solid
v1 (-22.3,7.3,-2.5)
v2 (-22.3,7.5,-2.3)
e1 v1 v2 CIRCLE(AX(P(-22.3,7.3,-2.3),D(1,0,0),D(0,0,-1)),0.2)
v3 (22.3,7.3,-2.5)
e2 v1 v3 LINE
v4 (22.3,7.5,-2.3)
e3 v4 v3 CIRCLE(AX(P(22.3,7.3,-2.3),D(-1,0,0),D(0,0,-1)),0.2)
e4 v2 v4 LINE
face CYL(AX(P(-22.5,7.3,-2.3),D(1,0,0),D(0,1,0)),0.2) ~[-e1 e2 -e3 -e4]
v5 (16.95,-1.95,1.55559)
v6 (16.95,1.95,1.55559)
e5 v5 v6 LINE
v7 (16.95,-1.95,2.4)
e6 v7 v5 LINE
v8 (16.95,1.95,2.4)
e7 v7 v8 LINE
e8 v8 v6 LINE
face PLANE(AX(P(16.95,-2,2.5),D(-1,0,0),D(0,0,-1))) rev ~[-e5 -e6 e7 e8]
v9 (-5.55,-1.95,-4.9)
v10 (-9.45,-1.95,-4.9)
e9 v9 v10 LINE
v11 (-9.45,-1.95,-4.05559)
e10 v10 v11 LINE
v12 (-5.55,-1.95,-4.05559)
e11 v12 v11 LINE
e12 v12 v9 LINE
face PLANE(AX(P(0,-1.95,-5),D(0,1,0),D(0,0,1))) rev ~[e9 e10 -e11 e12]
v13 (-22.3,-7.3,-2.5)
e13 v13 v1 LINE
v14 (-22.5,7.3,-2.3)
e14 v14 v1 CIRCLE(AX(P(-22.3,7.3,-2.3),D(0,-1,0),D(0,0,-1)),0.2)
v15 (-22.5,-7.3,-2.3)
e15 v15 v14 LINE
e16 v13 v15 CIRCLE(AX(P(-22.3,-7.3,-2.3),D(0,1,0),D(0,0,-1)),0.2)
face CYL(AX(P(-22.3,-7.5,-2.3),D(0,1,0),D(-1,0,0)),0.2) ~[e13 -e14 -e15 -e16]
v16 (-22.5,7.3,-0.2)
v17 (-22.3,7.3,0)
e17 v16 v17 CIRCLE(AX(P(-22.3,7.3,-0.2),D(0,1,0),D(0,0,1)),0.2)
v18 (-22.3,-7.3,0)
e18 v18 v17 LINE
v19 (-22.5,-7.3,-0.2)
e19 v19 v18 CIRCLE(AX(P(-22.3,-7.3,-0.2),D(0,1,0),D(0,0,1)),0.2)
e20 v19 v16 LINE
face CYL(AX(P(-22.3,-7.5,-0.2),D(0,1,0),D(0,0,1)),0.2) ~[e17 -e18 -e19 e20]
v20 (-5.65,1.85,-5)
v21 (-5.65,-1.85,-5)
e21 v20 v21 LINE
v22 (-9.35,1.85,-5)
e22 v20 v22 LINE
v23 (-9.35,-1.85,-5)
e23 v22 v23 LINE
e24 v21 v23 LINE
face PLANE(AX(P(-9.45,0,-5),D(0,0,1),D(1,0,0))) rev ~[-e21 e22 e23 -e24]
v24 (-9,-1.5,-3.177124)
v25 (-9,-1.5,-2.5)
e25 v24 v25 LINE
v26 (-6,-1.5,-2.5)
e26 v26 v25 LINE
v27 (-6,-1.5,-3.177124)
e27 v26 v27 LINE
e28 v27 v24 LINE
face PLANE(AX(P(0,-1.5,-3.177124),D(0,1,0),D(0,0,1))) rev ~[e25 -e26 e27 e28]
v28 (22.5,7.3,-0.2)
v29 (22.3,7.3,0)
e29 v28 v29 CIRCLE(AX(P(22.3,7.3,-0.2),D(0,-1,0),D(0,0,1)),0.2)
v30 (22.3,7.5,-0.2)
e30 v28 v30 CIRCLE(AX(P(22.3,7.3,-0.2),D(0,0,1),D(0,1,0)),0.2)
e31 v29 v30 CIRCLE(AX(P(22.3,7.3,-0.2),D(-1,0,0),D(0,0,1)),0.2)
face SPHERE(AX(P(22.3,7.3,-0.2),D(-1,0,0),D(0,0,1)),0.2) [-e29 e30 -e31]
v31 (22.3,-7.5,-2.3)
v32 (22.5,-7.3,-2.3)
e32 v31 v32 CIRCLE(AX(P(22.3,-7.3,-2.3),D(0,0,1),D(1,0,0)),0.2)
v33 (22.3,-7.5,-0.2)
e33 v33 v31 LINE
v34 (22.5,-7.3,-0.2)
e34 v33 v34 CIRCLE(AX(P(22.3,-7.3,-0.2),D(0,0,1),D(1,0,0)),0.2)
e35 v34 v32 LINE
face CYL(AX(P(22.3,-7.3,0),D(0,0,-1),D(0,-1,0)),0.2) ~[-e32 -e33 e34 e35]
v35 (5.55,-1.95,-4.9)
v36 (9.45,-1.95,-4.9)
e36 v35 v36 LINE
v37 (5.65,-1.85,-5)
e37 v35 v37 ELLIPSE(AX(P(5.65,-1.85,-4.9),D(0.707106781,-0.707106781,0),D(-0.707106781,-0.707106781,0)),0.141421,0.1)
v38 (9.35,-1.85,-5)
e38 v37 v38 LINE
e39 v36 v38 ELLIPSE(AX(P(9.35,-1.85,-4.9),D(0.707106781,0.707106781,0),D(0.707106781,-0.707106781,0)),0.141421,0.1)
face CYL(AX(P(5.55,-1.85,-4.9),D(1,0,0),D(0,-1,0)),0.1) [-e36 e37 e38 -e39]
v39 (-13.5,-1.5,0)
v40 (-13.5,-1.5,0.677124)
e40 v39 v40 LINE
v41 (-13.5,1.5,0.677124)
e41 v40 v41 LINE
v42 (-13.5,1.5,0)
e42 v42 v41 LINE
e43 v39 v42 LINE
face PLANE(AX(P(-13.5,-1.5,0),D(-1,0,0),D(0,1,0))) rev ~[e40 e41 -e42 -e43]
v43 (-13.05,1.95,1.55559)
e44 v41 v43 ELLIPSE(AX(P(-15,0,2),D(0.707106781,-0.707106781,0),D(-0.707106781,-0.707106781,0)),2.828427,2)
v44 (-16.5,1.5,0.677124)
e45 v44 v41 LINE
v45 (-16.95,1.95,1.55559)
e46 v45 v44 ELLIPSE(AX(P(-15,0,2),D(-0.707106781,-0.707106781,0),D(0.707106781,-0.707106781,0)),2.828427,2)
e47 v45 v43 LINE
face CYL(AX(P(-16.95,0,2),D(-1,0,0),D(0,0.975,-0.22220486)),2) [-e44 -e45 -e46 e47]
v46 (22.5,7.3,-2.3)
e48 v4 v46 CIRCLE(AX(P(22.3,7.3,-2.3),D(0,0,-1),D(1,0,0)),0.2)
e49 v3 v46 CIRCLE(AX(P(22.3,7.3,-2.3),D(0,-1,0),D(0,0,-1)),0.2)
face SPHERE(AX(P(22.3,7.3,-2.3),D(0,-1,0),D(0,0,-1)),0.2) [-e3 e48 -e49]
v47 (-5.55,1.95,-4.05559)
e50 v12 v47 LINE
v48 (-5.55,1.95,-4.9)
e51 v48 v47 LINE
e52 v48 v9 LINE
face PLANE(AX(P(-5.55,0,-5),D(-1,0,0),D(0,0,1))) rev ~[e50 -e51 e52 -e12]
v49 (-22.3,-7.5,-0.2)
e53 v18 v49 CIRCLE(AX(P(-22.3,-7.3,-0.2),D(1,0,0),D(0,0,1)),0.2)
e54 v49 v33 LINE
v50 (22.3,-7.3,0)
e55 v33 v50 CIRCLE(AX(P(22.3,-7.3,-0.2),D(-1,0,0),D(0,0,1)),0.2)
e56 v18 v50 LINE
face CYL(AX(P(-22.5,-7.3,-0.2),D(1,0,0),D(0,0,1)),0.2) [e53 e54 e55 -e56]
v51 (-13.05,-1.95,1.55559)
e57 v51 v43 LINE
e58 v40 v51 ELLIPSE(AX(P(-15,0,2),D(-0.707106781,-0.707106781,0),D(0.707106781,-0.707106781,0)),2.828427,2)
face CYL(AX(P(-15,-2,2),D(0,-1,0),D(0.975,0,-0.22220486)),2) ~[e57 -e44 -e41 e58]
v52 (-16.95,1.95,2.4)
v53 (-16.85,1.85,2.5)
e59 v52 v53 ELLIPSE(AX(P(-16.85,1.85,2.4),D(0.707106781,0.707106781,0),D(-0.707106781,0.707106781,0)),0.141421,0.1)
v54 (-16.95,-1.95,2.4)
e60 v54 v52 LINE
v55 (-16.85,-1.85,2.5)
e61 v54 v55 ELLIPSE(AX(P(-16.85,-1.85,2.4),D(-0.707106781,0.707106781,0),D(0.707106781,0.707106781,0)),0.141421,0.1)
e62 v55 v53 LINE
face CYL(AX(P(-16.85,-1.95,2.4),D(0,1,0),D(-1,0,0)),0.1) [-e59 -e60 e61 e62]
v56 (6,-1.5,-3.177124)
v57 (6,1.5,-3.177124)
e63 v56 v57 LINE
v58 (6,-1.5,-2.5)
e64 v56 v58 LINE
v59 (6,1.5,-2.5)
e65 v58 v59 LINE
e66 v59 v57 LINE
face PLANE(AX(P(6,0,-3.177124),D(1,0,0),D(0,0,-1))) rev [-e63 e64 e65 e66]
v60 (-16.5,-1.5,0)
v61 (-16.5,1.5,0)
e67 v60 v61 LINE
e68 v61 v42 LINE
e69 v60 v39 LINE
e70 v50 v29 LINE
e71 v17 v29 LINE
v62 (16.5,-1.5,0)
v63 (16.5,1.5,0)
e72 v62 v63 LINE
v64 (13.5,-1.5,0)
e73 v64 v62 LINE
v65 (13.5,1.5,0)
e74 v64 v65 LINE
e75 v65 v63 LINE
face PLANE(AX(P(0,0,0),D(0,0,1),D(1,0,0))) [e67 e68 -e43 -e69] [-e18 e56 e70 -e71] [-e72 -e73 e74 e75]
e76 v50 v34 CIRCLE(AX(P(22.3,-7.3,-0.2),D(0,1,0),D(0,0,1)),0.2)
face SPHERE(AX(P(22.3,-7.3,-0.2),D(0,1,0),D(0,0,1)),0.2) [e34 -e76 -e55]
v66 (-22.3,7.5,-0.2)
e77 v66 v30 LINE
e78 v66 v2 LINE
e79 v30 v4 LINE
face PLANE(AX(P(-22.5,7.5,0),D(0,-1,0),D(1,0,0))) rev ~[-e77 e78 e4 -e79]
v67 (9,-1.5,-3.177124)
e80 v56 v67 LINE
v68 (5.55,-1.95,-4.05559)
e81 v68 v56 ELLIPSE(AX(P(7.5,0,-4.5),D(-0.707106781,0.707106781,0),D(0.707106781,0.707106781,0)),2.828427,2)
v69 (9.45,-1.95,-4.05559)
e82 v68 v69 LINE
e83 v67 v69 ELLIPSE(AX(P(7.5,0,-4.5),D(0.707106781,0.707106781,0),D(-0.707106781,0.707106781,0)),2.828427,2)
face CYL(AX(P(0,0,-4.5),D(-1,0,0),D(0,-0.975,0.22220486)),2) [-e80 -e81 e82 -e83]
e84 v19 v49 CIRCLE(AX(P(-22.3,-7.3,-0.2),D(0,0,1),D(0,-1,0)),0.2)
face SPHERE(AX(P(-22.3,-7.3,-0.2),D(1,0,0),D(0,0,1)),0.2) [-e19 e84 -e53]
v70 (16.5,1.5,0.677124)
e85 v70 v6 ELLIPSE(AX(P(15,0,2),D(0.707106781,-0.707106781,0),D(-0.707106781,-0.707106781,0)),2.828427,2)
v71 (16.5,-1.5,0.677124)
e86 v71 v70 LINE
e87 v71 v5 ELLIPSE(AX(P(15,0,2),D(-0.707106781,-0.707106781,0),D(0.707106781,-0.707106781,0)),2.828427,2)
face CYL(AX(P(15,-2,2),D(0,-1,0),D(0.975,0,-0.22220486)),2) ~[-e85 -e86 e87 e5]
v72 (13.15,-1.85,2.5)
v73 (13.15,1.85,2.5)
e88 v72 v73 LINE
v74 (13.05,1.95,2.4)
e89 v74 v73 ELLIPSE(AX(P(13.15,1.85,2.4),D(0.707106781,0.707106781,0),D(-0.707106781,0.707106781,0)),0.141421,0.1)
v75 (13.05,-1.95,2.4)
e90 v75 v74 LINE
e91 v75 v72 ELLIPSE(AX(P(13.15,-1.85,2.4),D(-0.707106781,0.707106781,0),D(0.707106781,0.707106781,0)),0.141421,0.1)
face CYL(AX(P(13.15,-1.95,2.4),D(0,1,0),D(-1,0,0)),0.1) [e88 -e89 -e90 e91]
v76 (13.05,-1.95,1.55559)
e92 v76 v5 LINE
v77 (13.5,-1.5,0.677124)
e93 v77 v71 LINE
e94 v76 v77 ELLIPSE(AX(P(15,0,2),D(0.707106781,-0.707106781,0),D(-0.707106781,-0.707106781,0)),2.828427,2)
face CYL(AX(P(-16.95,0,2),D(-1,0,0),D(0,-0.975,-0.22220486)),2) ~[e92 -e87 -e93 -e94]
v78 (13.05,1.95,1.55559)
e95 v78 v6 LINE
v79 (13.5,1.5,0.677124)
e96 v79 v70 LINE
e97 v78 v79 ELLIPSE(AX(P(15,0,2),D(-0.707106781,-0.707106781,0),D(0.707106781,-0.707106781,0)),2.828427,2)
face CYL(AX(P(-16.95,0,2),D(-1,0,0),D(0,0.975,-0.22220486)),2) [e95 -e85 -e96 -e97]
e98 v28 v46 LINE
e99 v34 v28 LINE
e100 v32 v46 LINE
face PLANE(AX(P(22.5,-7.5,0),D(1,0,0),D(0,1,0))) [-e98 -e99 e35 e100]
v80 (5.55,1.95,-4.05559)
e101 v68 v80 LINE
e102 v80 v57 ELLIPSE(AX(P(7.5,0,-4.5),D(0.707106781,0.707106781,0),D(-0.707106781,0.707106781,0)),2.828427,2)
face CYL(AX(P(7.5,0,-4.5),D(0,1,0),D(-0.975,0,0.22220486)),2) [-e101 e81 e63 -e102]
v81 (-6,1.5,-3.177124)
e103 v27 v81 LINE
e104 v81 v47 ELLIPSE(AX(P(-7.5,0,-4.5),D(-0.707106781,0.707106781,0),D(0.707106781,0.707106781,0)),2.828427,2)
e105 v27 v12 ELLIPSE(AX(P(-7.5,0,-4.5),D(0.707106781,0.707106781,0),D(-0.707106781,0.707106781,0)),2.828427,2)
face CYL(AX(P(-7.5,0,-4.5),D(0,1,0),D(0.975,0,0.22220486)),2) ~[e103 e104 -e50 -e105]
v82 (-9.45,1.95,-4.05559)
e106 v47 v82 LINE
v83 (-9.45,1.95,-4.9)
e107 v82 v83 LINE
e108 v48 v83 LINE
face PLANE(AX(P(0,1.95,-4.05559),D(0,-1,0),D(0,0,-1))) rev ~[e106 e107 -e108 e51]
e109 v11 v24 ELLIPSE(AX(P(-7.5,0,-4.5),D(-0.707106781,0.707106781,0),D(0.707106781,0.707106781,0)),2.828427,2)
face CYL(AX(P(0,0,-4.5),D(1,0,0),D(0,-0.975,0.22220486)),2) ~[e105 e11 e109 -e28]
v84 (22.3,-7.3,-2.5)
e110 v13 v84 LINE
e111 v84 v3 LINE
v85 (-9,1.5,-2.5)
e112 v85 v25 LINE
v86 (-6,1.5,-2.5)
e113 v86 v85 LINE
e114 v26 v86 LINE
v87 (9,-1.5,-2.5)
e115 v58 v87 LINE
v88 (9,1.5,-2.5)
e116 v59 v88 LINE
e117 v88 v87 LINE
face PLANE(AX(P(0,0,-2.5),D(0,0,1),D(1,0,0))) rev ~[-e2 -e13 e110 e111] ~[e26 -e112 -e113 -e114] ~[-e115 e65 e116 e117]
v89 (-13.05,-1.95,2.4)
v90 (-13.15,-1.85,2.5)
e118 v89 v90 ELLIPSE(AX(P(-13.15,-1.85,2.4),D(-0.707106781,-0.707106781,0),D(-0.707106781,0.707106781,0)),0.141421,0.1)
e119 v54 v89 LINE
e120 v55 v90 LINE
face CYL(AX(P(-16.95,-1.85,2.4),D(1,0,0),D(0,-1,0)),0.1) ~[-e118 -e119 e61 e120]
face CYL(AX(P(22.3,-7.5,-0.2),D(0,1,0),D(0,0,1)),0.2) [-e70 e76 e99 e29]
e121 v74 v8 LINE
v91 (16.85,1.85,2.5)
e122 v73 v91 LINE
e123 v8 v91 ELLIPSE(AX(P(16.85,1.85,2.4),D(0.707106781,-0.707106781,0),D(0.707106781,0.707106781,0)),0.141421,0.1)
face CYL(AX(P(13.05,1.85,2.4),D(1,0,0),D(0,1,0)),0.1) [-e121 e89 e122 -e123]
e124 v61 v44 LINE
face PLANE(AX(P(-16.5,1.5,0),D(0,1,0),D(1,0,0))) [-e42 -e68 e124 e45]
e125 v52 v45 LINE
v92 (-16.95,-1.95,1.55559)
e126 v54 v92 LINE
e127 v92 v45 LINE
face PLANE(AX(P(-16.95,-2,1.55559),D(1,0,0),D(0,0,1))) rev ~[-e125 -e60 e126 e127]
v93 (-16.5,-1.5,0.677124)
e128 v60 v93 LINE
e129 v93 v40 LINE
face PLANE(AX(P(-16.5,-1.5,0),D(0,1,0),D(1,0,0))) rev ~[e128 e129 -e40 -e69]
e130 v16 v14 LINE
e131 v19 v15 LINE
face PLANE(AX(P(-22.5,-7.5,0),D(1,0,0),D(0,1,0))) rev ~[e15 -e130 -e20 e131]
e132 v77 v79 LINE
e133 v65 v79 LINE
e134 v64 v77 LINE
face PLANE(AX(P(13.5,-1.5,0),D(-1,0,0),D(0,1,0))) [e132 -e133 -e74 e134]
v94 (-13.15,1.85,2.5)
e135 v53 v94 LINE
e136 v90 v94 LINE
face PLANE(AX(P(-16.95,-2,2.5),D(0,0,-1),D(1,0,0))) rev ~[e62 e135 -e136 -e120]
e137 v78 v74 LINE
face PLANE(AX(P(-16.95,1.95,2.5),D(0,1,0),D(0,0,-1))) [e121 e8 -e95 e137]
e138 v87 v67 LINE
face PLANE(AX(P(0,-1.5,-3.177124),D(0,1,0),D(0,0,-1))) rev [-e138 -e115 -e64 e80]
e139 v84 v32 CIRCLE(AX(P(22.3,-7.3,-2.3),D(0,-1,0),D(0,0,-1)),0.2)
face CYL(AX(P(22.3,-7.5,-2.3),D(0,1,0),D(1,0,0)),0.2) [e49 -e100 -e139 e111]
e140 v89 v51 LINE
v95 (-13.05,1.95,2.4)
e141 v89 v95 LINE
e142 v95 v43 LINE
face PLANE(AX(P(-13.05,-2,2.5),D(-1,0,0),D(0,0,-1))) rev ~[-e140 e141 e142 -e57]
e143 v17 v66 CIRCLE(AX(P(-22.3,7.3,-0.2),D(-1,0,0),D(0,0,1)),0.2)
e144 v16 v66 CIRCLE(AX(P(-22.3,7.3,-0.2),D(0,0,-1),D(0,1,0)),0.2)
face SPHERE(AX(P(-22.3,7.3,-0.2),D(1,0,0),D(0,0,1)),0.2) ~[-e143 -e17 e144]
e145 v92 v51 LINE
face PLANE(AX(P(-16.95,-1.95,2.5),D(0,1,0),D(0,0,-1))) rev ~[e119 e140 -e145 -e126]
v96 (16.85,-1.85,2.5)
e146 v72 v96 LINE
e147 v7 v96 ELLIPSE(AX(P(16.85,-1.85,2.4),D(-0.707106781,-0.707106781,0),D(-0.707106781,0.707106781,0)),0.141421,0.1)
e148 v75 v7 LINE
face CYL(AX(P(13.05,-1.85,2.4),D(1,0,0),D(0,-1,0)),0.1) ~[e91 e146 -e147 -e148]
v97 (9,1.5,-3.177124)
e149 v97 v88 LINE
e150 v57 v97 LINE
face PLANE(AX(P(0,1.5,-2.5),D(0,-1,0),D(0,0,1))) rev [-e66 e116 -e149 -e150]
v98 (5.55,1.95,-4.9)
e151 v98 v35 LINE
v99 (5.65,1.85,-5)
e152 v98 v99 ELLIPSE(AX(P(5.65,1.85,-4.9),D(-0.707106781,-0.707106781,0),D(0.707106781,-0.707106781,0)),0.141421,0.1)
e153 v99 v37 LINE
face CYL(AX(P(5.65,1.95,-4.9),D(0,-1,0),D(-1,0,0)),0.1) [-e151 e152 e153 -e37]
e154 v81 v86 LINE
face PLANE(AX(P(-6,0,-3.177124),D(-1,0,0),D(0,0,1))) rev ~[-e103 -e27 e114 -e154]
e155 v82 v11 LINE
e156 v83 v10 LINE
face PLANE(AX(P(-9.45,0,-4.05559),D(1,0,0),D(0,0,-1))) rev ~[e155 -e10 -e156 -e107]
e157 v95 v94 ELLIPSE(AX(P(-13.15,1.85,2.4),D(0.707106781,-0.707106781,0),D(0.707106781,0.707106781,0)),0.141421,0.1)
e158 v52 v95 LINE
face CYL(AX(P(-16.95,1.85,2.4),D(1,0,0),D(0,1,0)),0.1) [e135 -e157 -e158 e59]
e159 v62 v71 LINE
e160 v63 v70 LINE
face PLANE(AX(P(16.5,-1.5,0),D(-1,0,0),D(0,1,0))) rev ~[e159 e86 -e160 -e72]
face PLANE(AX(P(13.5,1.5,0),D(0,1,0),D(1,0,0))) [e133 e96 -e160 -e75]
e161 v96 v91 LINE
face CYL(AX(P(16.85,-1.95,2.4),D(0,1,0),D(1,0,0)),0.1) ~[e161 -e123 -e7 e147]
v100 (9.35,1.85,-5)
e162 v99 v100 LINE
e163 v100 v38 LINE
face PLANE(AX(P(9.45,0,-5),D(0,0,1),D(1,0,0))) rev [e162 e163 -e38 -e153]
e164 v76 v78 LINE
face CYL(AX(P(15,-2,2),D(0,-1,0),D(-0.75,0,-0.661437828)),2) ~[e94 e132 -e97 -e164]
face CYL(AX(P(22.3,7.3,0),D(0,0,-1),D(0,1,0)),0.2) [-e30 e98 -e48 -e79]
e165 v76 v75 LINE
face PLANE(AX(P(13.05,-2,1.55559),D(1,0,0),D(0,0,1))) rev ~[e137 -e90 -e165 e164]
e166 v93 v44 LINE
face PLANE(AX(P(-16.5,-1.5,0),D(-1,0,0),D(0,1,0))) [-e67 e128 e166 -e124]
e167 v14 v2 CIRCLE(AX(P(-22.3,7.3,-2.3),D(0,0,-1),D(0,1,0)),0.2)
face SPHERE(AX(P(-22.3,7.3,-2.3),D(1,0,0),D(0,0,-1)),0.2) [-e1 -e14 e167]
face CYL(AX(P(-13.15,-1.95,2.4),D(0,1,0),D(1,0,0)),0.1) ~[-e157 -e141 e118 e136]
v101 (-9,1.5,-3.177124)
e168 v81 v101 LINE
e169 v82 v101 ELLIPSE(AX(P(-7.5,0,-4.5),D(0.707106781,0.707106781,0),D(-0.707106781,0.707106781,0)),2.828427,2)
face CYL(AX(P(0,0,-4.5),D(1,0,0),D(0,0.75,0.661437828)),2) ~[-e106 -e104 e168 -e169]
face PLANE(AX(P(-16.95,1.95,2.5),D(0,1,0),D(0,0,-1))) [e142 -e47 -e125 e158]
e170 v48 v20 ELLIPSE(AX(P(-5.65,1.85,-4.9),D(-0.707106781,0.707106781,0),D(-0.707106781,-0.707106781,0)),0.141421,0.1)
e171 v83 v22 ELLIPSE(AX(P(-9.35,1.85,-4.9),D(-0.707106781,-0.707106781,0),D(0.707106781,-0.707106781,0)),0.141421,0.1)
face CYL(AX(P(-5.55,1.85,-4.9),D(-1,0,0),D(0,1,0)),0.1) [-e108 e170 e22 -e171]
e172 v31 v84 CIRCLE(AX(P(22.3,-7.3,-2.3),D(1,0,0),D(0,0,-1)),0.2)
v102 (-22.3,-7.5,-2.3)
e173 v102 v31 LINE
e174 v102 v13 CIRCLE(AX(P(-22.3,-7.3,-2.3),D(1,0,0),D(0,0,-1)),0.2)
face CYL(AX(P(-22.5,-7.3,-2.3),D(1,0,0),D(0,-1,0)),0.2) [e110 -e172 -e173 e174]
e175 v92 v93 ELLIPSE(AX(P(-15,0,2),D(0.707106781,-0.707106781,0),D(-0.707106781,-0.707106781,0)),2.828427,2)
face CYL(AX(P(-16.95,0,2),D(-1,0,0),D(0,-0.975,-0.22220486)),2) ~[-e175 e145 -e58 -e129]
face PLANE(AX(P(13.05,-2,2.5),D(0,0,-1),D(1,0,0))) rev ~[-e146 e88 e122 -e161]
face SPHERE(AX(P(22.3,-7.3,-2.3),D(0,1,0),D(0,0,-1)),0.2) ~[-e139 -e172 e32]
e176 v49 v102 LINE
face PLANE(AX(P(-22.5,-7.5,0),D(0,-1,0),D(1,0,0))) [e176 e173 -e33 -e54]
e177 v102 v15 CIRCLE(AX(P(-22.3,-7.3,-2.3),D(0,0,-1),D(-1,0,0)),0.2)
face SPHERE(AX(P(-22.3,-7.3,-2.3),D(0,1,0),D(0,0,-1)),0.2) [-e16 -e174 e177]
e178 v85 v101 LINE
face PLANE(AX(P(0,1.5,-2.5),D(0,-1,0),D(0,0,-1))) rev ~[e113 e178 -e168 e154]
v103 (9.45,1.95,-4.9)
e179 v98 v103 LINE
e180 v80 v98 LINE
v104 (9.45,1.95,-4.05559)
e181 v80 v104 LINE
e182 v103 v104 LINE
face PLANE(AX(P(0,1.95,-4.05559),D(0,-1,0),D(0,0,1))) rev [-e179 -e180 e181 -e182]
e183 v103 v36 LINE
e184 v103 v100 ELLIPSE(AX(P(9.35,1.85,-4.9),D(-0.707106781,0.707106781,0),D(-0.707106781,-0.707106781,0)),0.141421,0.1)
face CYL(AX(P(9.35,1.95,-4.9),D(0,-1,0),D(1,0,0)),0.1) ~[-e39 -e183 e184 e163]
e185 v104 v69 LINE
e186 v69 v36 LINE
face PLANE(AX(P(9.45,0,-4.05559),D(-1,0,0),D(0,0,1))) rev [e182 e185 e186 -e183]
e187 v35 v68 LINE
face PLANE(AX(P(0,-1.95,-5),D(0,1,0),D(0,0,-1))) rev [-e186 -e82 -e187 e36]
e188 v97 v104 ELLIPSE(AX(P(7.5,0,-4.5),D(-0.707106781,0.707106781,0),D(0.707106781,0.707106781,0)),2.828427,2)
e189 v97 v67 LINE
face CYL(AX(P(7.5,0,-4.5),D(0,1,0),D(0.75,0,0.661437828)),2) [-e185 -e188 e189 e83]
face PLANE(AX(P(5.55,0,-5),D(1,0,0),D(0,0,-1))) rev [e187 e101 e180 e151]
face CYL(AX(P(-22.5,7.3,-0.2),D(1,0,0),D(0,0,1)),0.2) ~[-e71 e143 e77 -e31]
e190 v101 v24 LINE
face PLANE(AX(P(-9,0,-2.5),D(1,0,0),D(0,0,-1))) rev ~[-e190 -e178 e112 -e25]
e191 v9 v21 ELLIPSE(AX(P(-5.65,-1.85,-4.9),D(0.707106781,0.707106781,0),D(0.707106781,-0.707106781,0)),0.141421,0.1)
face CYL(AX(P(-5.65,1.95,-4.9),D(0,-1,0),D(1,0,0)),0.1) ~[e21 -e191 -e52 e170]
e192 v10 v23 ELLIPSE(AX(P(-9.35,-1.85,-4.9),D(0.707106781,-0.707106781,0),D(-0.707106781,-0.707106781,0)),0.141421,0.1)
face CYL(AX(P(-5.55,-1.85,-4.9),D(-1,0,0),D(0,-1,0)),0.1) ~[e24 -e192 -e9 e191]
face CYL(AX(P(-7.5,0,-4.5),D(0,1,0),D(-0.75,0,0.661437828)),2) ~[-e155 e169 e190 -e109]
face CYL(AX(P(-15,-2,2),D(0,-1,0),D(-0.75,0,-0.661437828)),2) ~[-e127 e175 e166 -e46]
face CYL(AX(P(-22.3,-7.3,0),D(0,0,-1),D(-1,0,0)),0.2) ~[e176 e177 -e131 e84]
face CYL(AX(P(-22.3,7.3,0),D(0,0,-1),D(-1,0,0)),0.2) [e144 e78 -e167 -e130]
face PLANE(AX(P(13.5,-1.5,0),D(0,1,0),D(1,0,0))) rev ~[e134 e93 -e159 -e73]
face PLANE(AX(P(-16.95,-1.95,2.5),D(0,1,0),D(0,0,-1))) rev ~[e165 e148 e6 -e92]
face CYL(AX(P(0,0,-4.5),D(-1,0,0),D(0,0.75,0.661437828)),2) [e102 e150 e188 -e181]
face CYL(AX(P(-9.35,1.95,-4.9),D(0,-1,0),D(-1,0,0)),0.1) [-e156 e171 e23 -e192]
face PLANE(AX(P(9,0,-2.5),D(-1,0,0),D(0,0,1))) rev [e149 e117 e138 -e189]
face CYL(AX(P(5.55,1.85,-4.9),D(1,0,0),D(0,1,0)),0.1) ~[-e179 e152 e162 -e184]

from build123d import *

# Parameters (mm, degrees)
SKETCH_1_W           = 45
SKETCH_1_H           = 15
EXTRUDE_1_DEPTH      = 2.5
SKETCH_2_W           = 3
SKETCH_2_H           = 3
EXTRUDE_2_DEPTH      = 1
EXTRUDE_3_DEPTH      = 2
EXTRUDE_3_DEPTH_BACK = 2
CUT_EXTRUDE_1_DEPTH  = 41.234344782
FILLET_1_R           = 0.2
FILLET_2_R           = 0.1
EXTRUDE_4_DEPTH      = 2
CUT_EXTRUDE_2_DEPTH  = 10
FILLET_3_R           = 0.1


with BuildPart() as part:
    # 草图1 → 凸台-拉伸1 (new body)
    with BuildSketch(Plane.XY):
        Rectangle(SKETCH_1_W, SKETCH_1_H)
    extrude(amount=-EXTRUDE_1_DEPTH)

    # 草图2 → 凸台-拉伸2 (add)
    with BuildSketch(Plane.XY):
        with Locations((-15, 0)):
            Rectangle(SKETCH_2_W, SKETCH_2_H)
        with Locations((15, 0)):
            Rectangle(SKETCH_2_W, SKETCH_2_H)
    extrude(amount=EXTRUDE_2_DEPTH)

    # 草图3 → 凸台-拉伸3 (add, two sides: drawn at the far end of the back side and taken through both)
    with BuildSketch(Plane(origin=(0, 0, 0), x_dir=(1, 0, 0), z_dir=(0, 1, 0)).offset(-EXTRUDE_3_DEPTH_BACK)):
        with BuildLine():
            Line((-16.95, -2.5), (-13.05, -2.5))
            Line((-13.05, -2.5), (-13.05, -1.555590279))
            ThreePointArc((-13.05, -1.555590279), (-13.219957697, -1.088161527), (-13.5, -0.677124344))
            Line((-13.5, -0.677124344), (-16.5, -0.677124344))
            ThreePointArc((-16.5, -0.677124344), (-16.780042303, -1.088161527), (-16.95, -1.555590279))
            Line((-16.95, -1.555590279), (-16.95, -2.5))
        make_face()
        with BuildLine():
            Line((16.5, -0.677124344), (13.5, -0.677124344))
            ThreePointArc((13.5, -0.677124344), (13.219957697, -1.088161527), (13.05, -1.555590279))
            Line((13.05, -1.555590279), (13.05, -2.5))
            Line((13.05, -2.5), (16.95, -2.5))
            Line((16.95, -2.5), (16.95, -1.555590279))
            ThreePointArc((16.95, -1.555590279), (16.780042303, -1.088161527), (16.5, -0.677124344))
        make_face()
    extrude(amount=EXTRUDE_3_DEPTH + EXTRUDE_3_DEPTH_BACK)

    # 草图4 → 切除-拉伸1 (cut, through all)
    with BuildSketch(Plane.ZY.offset(16.95)):
        with BuildLine():
            Line((2.5, 1.95), (1.555590279, 1.95))
            ThreePointArc((1.555590279, 1.95), (1.088161527, 1.780042303), (0.677124344, 1.5))
            Line((0.677124344, 1.5), (0.677124344, 2))
            Line((0.677124344, 2), (2.5, 2))
            Line((2.5, 2), (2.5, 1.95))
        make_face()
        with BuildLine():
            Line((0.677124344, -2), (2.5, -2))
            Line((2.5, -2), (2.5, -1.95))
            Line((2.5, -1.95), (1.555590279, -1.95))
            ThreePointArc((1.555590279, -1.95), (1.088161527, -1.780042303), (0.677124344, -1.5))
            Line((0.677124344, -1.5), (0.677124344, -2))
        make_face()
    extrude(amount=-CUT_EXTRUDE_1_DEPTH, mode=Mode.SUBTRACT)

    # 圆角1
    fillet_1_edges = [part.edges().sort_by_distance(p)[0] for p in [
        (22.5, 0, -2.5),
        (0, 7.5, -2.5),
        (-22.5, 0, -2.5),
        (0, 7.5, 0),
        (22.5, 0, 0),
        (0, -7.5, 0),
        (-22.5, 0, 0),
        (0, -7.5, -2.5),
        (-22.5, 7.5, -1.25),
        (22.5, 7.5, -1.25),
        (22.5, -7.5, -1.25),
        (-22.5, -7.5, -1.25),
    ]]
    fillet(fillet_1_edges, radius=FILLET_1_R)

    # 圆角2
    fillet_2_edges = [part.edges().sort_by_distance(p)[0] for p in [
        (13.05, 0, 2.5),
        (16.95, 0, 2.5),
        (-16.95, 0, 2.5),
        (-13.05, 0, 2.5),
        (-15, -1.95, 2.5),
        (15, -1.95, 2.5),
        (-15, 1.95, 2.5),
        (15, 1.95, 2.5),
    ]]
    fillet(fillet_2_edges, radius=FILLET_2_R)

    # 草图6 → 凸台-拉伸4 (add, symmetric)
    with BuildSketch(Plane(origin=(0, 0, 0), x_dir=(1, 0, 0), z_dir=(0, 1, 0))):
        with BuildLine():
            Line((-6, 2.5), (-9, 2.5))
            Line((-9, 2.5), (-9, 3.177124344))
            ThreePointArc((-9, 3.177124344), (-9.280042303, 3.588161527), (-9.45, 4.055590279))
            Line((-9.45, 4.055590279), (-9.45, 5))
            Line((-9.45, 5), (-5.55, 5))
            Line((-5.55, 5), (-5.55, 4.055590279))
            ThreePointArc((-5.55, 4.055590279), (-5.719957697, 3.588161527), (-6, 3.177124344))
            Line((-6, 3.177124344), (-6, 2.5))
        make_face()
    extrude_4 = extrude(amount=EXTRUDE_4_DEPTH, both=True)

    # 草图7 → 切除-拉伸2 (cut)
    with BuildSketch(Plane(origin=(0, 0, 0), x_dir=(0, 0, -1), z_dir=(1, 0, 0))):
        with BuildLine():
            Line((2.5, 1.5), (3.177124344, 1.5))
            ThreePointArc((3.177124344, 1.5), (3.588161527, 1.780042303), (4.055590279, 1.95))
            Line((4.055590279, 1.95), (5, 1.95))
            Line((5, 1.95), (5, 2))
            Line((5, 2), (2.5, 2))
            Line((2.5, 2), (2.5, 1.5))
        make_face()
        with BuildLine():
            Line((5, -1.95), (4.055590279, -1.95))
            ThreePointArc((4.055590279, -1.95), (3.588161527, -1.780042303), (3.177124344, -1.5))
            Line((3.177124344, -1.5), (2.5, -1.5))
            Line((2.5, -1.5), (2.5, -2))
            Line((2.5, -2), (5, -2))
            Line((5, -2), (5, -1.95))
        make_face()
    cut_extrude_2 = extrude(amount=-CUT_EXTRUDE_2_DEPTH, mode=Mode.SUBTRACT)

    # 镜向1: 凸台-拉伸4, 切除-拉伸2 across plane
    add(extrude_4.mirror(Plane(origin=(0, 0, 0), x_dir=(0, 0, 1), z_dir=(1, 0, 0))))
    add(cut_extrude_2.mirror(Plane(origin=(0, 0, 0), x_dir=(0, 0, 1), z_dir=(1, 0, 0))), mode=Mode.SUBTRACT)

    # 圆角3
    fillet_3_edges = [part.edges().sort_by_distance(p)[0] for p in [
        (-5.55, 0, -5),
        (-9.45, 0, -5),
        (-7.5, -1.95, -5),
        (-7.5, 1.95, -5),
        (9.45, 0, -5),
        (5.55, 0, -5),
        (7.5, -1.95, -5),
        (7.5, 1.95, -5),
    ]]
    fillet(fillet_3_edges, radius=FILLET_3_R)


solid = part.part
